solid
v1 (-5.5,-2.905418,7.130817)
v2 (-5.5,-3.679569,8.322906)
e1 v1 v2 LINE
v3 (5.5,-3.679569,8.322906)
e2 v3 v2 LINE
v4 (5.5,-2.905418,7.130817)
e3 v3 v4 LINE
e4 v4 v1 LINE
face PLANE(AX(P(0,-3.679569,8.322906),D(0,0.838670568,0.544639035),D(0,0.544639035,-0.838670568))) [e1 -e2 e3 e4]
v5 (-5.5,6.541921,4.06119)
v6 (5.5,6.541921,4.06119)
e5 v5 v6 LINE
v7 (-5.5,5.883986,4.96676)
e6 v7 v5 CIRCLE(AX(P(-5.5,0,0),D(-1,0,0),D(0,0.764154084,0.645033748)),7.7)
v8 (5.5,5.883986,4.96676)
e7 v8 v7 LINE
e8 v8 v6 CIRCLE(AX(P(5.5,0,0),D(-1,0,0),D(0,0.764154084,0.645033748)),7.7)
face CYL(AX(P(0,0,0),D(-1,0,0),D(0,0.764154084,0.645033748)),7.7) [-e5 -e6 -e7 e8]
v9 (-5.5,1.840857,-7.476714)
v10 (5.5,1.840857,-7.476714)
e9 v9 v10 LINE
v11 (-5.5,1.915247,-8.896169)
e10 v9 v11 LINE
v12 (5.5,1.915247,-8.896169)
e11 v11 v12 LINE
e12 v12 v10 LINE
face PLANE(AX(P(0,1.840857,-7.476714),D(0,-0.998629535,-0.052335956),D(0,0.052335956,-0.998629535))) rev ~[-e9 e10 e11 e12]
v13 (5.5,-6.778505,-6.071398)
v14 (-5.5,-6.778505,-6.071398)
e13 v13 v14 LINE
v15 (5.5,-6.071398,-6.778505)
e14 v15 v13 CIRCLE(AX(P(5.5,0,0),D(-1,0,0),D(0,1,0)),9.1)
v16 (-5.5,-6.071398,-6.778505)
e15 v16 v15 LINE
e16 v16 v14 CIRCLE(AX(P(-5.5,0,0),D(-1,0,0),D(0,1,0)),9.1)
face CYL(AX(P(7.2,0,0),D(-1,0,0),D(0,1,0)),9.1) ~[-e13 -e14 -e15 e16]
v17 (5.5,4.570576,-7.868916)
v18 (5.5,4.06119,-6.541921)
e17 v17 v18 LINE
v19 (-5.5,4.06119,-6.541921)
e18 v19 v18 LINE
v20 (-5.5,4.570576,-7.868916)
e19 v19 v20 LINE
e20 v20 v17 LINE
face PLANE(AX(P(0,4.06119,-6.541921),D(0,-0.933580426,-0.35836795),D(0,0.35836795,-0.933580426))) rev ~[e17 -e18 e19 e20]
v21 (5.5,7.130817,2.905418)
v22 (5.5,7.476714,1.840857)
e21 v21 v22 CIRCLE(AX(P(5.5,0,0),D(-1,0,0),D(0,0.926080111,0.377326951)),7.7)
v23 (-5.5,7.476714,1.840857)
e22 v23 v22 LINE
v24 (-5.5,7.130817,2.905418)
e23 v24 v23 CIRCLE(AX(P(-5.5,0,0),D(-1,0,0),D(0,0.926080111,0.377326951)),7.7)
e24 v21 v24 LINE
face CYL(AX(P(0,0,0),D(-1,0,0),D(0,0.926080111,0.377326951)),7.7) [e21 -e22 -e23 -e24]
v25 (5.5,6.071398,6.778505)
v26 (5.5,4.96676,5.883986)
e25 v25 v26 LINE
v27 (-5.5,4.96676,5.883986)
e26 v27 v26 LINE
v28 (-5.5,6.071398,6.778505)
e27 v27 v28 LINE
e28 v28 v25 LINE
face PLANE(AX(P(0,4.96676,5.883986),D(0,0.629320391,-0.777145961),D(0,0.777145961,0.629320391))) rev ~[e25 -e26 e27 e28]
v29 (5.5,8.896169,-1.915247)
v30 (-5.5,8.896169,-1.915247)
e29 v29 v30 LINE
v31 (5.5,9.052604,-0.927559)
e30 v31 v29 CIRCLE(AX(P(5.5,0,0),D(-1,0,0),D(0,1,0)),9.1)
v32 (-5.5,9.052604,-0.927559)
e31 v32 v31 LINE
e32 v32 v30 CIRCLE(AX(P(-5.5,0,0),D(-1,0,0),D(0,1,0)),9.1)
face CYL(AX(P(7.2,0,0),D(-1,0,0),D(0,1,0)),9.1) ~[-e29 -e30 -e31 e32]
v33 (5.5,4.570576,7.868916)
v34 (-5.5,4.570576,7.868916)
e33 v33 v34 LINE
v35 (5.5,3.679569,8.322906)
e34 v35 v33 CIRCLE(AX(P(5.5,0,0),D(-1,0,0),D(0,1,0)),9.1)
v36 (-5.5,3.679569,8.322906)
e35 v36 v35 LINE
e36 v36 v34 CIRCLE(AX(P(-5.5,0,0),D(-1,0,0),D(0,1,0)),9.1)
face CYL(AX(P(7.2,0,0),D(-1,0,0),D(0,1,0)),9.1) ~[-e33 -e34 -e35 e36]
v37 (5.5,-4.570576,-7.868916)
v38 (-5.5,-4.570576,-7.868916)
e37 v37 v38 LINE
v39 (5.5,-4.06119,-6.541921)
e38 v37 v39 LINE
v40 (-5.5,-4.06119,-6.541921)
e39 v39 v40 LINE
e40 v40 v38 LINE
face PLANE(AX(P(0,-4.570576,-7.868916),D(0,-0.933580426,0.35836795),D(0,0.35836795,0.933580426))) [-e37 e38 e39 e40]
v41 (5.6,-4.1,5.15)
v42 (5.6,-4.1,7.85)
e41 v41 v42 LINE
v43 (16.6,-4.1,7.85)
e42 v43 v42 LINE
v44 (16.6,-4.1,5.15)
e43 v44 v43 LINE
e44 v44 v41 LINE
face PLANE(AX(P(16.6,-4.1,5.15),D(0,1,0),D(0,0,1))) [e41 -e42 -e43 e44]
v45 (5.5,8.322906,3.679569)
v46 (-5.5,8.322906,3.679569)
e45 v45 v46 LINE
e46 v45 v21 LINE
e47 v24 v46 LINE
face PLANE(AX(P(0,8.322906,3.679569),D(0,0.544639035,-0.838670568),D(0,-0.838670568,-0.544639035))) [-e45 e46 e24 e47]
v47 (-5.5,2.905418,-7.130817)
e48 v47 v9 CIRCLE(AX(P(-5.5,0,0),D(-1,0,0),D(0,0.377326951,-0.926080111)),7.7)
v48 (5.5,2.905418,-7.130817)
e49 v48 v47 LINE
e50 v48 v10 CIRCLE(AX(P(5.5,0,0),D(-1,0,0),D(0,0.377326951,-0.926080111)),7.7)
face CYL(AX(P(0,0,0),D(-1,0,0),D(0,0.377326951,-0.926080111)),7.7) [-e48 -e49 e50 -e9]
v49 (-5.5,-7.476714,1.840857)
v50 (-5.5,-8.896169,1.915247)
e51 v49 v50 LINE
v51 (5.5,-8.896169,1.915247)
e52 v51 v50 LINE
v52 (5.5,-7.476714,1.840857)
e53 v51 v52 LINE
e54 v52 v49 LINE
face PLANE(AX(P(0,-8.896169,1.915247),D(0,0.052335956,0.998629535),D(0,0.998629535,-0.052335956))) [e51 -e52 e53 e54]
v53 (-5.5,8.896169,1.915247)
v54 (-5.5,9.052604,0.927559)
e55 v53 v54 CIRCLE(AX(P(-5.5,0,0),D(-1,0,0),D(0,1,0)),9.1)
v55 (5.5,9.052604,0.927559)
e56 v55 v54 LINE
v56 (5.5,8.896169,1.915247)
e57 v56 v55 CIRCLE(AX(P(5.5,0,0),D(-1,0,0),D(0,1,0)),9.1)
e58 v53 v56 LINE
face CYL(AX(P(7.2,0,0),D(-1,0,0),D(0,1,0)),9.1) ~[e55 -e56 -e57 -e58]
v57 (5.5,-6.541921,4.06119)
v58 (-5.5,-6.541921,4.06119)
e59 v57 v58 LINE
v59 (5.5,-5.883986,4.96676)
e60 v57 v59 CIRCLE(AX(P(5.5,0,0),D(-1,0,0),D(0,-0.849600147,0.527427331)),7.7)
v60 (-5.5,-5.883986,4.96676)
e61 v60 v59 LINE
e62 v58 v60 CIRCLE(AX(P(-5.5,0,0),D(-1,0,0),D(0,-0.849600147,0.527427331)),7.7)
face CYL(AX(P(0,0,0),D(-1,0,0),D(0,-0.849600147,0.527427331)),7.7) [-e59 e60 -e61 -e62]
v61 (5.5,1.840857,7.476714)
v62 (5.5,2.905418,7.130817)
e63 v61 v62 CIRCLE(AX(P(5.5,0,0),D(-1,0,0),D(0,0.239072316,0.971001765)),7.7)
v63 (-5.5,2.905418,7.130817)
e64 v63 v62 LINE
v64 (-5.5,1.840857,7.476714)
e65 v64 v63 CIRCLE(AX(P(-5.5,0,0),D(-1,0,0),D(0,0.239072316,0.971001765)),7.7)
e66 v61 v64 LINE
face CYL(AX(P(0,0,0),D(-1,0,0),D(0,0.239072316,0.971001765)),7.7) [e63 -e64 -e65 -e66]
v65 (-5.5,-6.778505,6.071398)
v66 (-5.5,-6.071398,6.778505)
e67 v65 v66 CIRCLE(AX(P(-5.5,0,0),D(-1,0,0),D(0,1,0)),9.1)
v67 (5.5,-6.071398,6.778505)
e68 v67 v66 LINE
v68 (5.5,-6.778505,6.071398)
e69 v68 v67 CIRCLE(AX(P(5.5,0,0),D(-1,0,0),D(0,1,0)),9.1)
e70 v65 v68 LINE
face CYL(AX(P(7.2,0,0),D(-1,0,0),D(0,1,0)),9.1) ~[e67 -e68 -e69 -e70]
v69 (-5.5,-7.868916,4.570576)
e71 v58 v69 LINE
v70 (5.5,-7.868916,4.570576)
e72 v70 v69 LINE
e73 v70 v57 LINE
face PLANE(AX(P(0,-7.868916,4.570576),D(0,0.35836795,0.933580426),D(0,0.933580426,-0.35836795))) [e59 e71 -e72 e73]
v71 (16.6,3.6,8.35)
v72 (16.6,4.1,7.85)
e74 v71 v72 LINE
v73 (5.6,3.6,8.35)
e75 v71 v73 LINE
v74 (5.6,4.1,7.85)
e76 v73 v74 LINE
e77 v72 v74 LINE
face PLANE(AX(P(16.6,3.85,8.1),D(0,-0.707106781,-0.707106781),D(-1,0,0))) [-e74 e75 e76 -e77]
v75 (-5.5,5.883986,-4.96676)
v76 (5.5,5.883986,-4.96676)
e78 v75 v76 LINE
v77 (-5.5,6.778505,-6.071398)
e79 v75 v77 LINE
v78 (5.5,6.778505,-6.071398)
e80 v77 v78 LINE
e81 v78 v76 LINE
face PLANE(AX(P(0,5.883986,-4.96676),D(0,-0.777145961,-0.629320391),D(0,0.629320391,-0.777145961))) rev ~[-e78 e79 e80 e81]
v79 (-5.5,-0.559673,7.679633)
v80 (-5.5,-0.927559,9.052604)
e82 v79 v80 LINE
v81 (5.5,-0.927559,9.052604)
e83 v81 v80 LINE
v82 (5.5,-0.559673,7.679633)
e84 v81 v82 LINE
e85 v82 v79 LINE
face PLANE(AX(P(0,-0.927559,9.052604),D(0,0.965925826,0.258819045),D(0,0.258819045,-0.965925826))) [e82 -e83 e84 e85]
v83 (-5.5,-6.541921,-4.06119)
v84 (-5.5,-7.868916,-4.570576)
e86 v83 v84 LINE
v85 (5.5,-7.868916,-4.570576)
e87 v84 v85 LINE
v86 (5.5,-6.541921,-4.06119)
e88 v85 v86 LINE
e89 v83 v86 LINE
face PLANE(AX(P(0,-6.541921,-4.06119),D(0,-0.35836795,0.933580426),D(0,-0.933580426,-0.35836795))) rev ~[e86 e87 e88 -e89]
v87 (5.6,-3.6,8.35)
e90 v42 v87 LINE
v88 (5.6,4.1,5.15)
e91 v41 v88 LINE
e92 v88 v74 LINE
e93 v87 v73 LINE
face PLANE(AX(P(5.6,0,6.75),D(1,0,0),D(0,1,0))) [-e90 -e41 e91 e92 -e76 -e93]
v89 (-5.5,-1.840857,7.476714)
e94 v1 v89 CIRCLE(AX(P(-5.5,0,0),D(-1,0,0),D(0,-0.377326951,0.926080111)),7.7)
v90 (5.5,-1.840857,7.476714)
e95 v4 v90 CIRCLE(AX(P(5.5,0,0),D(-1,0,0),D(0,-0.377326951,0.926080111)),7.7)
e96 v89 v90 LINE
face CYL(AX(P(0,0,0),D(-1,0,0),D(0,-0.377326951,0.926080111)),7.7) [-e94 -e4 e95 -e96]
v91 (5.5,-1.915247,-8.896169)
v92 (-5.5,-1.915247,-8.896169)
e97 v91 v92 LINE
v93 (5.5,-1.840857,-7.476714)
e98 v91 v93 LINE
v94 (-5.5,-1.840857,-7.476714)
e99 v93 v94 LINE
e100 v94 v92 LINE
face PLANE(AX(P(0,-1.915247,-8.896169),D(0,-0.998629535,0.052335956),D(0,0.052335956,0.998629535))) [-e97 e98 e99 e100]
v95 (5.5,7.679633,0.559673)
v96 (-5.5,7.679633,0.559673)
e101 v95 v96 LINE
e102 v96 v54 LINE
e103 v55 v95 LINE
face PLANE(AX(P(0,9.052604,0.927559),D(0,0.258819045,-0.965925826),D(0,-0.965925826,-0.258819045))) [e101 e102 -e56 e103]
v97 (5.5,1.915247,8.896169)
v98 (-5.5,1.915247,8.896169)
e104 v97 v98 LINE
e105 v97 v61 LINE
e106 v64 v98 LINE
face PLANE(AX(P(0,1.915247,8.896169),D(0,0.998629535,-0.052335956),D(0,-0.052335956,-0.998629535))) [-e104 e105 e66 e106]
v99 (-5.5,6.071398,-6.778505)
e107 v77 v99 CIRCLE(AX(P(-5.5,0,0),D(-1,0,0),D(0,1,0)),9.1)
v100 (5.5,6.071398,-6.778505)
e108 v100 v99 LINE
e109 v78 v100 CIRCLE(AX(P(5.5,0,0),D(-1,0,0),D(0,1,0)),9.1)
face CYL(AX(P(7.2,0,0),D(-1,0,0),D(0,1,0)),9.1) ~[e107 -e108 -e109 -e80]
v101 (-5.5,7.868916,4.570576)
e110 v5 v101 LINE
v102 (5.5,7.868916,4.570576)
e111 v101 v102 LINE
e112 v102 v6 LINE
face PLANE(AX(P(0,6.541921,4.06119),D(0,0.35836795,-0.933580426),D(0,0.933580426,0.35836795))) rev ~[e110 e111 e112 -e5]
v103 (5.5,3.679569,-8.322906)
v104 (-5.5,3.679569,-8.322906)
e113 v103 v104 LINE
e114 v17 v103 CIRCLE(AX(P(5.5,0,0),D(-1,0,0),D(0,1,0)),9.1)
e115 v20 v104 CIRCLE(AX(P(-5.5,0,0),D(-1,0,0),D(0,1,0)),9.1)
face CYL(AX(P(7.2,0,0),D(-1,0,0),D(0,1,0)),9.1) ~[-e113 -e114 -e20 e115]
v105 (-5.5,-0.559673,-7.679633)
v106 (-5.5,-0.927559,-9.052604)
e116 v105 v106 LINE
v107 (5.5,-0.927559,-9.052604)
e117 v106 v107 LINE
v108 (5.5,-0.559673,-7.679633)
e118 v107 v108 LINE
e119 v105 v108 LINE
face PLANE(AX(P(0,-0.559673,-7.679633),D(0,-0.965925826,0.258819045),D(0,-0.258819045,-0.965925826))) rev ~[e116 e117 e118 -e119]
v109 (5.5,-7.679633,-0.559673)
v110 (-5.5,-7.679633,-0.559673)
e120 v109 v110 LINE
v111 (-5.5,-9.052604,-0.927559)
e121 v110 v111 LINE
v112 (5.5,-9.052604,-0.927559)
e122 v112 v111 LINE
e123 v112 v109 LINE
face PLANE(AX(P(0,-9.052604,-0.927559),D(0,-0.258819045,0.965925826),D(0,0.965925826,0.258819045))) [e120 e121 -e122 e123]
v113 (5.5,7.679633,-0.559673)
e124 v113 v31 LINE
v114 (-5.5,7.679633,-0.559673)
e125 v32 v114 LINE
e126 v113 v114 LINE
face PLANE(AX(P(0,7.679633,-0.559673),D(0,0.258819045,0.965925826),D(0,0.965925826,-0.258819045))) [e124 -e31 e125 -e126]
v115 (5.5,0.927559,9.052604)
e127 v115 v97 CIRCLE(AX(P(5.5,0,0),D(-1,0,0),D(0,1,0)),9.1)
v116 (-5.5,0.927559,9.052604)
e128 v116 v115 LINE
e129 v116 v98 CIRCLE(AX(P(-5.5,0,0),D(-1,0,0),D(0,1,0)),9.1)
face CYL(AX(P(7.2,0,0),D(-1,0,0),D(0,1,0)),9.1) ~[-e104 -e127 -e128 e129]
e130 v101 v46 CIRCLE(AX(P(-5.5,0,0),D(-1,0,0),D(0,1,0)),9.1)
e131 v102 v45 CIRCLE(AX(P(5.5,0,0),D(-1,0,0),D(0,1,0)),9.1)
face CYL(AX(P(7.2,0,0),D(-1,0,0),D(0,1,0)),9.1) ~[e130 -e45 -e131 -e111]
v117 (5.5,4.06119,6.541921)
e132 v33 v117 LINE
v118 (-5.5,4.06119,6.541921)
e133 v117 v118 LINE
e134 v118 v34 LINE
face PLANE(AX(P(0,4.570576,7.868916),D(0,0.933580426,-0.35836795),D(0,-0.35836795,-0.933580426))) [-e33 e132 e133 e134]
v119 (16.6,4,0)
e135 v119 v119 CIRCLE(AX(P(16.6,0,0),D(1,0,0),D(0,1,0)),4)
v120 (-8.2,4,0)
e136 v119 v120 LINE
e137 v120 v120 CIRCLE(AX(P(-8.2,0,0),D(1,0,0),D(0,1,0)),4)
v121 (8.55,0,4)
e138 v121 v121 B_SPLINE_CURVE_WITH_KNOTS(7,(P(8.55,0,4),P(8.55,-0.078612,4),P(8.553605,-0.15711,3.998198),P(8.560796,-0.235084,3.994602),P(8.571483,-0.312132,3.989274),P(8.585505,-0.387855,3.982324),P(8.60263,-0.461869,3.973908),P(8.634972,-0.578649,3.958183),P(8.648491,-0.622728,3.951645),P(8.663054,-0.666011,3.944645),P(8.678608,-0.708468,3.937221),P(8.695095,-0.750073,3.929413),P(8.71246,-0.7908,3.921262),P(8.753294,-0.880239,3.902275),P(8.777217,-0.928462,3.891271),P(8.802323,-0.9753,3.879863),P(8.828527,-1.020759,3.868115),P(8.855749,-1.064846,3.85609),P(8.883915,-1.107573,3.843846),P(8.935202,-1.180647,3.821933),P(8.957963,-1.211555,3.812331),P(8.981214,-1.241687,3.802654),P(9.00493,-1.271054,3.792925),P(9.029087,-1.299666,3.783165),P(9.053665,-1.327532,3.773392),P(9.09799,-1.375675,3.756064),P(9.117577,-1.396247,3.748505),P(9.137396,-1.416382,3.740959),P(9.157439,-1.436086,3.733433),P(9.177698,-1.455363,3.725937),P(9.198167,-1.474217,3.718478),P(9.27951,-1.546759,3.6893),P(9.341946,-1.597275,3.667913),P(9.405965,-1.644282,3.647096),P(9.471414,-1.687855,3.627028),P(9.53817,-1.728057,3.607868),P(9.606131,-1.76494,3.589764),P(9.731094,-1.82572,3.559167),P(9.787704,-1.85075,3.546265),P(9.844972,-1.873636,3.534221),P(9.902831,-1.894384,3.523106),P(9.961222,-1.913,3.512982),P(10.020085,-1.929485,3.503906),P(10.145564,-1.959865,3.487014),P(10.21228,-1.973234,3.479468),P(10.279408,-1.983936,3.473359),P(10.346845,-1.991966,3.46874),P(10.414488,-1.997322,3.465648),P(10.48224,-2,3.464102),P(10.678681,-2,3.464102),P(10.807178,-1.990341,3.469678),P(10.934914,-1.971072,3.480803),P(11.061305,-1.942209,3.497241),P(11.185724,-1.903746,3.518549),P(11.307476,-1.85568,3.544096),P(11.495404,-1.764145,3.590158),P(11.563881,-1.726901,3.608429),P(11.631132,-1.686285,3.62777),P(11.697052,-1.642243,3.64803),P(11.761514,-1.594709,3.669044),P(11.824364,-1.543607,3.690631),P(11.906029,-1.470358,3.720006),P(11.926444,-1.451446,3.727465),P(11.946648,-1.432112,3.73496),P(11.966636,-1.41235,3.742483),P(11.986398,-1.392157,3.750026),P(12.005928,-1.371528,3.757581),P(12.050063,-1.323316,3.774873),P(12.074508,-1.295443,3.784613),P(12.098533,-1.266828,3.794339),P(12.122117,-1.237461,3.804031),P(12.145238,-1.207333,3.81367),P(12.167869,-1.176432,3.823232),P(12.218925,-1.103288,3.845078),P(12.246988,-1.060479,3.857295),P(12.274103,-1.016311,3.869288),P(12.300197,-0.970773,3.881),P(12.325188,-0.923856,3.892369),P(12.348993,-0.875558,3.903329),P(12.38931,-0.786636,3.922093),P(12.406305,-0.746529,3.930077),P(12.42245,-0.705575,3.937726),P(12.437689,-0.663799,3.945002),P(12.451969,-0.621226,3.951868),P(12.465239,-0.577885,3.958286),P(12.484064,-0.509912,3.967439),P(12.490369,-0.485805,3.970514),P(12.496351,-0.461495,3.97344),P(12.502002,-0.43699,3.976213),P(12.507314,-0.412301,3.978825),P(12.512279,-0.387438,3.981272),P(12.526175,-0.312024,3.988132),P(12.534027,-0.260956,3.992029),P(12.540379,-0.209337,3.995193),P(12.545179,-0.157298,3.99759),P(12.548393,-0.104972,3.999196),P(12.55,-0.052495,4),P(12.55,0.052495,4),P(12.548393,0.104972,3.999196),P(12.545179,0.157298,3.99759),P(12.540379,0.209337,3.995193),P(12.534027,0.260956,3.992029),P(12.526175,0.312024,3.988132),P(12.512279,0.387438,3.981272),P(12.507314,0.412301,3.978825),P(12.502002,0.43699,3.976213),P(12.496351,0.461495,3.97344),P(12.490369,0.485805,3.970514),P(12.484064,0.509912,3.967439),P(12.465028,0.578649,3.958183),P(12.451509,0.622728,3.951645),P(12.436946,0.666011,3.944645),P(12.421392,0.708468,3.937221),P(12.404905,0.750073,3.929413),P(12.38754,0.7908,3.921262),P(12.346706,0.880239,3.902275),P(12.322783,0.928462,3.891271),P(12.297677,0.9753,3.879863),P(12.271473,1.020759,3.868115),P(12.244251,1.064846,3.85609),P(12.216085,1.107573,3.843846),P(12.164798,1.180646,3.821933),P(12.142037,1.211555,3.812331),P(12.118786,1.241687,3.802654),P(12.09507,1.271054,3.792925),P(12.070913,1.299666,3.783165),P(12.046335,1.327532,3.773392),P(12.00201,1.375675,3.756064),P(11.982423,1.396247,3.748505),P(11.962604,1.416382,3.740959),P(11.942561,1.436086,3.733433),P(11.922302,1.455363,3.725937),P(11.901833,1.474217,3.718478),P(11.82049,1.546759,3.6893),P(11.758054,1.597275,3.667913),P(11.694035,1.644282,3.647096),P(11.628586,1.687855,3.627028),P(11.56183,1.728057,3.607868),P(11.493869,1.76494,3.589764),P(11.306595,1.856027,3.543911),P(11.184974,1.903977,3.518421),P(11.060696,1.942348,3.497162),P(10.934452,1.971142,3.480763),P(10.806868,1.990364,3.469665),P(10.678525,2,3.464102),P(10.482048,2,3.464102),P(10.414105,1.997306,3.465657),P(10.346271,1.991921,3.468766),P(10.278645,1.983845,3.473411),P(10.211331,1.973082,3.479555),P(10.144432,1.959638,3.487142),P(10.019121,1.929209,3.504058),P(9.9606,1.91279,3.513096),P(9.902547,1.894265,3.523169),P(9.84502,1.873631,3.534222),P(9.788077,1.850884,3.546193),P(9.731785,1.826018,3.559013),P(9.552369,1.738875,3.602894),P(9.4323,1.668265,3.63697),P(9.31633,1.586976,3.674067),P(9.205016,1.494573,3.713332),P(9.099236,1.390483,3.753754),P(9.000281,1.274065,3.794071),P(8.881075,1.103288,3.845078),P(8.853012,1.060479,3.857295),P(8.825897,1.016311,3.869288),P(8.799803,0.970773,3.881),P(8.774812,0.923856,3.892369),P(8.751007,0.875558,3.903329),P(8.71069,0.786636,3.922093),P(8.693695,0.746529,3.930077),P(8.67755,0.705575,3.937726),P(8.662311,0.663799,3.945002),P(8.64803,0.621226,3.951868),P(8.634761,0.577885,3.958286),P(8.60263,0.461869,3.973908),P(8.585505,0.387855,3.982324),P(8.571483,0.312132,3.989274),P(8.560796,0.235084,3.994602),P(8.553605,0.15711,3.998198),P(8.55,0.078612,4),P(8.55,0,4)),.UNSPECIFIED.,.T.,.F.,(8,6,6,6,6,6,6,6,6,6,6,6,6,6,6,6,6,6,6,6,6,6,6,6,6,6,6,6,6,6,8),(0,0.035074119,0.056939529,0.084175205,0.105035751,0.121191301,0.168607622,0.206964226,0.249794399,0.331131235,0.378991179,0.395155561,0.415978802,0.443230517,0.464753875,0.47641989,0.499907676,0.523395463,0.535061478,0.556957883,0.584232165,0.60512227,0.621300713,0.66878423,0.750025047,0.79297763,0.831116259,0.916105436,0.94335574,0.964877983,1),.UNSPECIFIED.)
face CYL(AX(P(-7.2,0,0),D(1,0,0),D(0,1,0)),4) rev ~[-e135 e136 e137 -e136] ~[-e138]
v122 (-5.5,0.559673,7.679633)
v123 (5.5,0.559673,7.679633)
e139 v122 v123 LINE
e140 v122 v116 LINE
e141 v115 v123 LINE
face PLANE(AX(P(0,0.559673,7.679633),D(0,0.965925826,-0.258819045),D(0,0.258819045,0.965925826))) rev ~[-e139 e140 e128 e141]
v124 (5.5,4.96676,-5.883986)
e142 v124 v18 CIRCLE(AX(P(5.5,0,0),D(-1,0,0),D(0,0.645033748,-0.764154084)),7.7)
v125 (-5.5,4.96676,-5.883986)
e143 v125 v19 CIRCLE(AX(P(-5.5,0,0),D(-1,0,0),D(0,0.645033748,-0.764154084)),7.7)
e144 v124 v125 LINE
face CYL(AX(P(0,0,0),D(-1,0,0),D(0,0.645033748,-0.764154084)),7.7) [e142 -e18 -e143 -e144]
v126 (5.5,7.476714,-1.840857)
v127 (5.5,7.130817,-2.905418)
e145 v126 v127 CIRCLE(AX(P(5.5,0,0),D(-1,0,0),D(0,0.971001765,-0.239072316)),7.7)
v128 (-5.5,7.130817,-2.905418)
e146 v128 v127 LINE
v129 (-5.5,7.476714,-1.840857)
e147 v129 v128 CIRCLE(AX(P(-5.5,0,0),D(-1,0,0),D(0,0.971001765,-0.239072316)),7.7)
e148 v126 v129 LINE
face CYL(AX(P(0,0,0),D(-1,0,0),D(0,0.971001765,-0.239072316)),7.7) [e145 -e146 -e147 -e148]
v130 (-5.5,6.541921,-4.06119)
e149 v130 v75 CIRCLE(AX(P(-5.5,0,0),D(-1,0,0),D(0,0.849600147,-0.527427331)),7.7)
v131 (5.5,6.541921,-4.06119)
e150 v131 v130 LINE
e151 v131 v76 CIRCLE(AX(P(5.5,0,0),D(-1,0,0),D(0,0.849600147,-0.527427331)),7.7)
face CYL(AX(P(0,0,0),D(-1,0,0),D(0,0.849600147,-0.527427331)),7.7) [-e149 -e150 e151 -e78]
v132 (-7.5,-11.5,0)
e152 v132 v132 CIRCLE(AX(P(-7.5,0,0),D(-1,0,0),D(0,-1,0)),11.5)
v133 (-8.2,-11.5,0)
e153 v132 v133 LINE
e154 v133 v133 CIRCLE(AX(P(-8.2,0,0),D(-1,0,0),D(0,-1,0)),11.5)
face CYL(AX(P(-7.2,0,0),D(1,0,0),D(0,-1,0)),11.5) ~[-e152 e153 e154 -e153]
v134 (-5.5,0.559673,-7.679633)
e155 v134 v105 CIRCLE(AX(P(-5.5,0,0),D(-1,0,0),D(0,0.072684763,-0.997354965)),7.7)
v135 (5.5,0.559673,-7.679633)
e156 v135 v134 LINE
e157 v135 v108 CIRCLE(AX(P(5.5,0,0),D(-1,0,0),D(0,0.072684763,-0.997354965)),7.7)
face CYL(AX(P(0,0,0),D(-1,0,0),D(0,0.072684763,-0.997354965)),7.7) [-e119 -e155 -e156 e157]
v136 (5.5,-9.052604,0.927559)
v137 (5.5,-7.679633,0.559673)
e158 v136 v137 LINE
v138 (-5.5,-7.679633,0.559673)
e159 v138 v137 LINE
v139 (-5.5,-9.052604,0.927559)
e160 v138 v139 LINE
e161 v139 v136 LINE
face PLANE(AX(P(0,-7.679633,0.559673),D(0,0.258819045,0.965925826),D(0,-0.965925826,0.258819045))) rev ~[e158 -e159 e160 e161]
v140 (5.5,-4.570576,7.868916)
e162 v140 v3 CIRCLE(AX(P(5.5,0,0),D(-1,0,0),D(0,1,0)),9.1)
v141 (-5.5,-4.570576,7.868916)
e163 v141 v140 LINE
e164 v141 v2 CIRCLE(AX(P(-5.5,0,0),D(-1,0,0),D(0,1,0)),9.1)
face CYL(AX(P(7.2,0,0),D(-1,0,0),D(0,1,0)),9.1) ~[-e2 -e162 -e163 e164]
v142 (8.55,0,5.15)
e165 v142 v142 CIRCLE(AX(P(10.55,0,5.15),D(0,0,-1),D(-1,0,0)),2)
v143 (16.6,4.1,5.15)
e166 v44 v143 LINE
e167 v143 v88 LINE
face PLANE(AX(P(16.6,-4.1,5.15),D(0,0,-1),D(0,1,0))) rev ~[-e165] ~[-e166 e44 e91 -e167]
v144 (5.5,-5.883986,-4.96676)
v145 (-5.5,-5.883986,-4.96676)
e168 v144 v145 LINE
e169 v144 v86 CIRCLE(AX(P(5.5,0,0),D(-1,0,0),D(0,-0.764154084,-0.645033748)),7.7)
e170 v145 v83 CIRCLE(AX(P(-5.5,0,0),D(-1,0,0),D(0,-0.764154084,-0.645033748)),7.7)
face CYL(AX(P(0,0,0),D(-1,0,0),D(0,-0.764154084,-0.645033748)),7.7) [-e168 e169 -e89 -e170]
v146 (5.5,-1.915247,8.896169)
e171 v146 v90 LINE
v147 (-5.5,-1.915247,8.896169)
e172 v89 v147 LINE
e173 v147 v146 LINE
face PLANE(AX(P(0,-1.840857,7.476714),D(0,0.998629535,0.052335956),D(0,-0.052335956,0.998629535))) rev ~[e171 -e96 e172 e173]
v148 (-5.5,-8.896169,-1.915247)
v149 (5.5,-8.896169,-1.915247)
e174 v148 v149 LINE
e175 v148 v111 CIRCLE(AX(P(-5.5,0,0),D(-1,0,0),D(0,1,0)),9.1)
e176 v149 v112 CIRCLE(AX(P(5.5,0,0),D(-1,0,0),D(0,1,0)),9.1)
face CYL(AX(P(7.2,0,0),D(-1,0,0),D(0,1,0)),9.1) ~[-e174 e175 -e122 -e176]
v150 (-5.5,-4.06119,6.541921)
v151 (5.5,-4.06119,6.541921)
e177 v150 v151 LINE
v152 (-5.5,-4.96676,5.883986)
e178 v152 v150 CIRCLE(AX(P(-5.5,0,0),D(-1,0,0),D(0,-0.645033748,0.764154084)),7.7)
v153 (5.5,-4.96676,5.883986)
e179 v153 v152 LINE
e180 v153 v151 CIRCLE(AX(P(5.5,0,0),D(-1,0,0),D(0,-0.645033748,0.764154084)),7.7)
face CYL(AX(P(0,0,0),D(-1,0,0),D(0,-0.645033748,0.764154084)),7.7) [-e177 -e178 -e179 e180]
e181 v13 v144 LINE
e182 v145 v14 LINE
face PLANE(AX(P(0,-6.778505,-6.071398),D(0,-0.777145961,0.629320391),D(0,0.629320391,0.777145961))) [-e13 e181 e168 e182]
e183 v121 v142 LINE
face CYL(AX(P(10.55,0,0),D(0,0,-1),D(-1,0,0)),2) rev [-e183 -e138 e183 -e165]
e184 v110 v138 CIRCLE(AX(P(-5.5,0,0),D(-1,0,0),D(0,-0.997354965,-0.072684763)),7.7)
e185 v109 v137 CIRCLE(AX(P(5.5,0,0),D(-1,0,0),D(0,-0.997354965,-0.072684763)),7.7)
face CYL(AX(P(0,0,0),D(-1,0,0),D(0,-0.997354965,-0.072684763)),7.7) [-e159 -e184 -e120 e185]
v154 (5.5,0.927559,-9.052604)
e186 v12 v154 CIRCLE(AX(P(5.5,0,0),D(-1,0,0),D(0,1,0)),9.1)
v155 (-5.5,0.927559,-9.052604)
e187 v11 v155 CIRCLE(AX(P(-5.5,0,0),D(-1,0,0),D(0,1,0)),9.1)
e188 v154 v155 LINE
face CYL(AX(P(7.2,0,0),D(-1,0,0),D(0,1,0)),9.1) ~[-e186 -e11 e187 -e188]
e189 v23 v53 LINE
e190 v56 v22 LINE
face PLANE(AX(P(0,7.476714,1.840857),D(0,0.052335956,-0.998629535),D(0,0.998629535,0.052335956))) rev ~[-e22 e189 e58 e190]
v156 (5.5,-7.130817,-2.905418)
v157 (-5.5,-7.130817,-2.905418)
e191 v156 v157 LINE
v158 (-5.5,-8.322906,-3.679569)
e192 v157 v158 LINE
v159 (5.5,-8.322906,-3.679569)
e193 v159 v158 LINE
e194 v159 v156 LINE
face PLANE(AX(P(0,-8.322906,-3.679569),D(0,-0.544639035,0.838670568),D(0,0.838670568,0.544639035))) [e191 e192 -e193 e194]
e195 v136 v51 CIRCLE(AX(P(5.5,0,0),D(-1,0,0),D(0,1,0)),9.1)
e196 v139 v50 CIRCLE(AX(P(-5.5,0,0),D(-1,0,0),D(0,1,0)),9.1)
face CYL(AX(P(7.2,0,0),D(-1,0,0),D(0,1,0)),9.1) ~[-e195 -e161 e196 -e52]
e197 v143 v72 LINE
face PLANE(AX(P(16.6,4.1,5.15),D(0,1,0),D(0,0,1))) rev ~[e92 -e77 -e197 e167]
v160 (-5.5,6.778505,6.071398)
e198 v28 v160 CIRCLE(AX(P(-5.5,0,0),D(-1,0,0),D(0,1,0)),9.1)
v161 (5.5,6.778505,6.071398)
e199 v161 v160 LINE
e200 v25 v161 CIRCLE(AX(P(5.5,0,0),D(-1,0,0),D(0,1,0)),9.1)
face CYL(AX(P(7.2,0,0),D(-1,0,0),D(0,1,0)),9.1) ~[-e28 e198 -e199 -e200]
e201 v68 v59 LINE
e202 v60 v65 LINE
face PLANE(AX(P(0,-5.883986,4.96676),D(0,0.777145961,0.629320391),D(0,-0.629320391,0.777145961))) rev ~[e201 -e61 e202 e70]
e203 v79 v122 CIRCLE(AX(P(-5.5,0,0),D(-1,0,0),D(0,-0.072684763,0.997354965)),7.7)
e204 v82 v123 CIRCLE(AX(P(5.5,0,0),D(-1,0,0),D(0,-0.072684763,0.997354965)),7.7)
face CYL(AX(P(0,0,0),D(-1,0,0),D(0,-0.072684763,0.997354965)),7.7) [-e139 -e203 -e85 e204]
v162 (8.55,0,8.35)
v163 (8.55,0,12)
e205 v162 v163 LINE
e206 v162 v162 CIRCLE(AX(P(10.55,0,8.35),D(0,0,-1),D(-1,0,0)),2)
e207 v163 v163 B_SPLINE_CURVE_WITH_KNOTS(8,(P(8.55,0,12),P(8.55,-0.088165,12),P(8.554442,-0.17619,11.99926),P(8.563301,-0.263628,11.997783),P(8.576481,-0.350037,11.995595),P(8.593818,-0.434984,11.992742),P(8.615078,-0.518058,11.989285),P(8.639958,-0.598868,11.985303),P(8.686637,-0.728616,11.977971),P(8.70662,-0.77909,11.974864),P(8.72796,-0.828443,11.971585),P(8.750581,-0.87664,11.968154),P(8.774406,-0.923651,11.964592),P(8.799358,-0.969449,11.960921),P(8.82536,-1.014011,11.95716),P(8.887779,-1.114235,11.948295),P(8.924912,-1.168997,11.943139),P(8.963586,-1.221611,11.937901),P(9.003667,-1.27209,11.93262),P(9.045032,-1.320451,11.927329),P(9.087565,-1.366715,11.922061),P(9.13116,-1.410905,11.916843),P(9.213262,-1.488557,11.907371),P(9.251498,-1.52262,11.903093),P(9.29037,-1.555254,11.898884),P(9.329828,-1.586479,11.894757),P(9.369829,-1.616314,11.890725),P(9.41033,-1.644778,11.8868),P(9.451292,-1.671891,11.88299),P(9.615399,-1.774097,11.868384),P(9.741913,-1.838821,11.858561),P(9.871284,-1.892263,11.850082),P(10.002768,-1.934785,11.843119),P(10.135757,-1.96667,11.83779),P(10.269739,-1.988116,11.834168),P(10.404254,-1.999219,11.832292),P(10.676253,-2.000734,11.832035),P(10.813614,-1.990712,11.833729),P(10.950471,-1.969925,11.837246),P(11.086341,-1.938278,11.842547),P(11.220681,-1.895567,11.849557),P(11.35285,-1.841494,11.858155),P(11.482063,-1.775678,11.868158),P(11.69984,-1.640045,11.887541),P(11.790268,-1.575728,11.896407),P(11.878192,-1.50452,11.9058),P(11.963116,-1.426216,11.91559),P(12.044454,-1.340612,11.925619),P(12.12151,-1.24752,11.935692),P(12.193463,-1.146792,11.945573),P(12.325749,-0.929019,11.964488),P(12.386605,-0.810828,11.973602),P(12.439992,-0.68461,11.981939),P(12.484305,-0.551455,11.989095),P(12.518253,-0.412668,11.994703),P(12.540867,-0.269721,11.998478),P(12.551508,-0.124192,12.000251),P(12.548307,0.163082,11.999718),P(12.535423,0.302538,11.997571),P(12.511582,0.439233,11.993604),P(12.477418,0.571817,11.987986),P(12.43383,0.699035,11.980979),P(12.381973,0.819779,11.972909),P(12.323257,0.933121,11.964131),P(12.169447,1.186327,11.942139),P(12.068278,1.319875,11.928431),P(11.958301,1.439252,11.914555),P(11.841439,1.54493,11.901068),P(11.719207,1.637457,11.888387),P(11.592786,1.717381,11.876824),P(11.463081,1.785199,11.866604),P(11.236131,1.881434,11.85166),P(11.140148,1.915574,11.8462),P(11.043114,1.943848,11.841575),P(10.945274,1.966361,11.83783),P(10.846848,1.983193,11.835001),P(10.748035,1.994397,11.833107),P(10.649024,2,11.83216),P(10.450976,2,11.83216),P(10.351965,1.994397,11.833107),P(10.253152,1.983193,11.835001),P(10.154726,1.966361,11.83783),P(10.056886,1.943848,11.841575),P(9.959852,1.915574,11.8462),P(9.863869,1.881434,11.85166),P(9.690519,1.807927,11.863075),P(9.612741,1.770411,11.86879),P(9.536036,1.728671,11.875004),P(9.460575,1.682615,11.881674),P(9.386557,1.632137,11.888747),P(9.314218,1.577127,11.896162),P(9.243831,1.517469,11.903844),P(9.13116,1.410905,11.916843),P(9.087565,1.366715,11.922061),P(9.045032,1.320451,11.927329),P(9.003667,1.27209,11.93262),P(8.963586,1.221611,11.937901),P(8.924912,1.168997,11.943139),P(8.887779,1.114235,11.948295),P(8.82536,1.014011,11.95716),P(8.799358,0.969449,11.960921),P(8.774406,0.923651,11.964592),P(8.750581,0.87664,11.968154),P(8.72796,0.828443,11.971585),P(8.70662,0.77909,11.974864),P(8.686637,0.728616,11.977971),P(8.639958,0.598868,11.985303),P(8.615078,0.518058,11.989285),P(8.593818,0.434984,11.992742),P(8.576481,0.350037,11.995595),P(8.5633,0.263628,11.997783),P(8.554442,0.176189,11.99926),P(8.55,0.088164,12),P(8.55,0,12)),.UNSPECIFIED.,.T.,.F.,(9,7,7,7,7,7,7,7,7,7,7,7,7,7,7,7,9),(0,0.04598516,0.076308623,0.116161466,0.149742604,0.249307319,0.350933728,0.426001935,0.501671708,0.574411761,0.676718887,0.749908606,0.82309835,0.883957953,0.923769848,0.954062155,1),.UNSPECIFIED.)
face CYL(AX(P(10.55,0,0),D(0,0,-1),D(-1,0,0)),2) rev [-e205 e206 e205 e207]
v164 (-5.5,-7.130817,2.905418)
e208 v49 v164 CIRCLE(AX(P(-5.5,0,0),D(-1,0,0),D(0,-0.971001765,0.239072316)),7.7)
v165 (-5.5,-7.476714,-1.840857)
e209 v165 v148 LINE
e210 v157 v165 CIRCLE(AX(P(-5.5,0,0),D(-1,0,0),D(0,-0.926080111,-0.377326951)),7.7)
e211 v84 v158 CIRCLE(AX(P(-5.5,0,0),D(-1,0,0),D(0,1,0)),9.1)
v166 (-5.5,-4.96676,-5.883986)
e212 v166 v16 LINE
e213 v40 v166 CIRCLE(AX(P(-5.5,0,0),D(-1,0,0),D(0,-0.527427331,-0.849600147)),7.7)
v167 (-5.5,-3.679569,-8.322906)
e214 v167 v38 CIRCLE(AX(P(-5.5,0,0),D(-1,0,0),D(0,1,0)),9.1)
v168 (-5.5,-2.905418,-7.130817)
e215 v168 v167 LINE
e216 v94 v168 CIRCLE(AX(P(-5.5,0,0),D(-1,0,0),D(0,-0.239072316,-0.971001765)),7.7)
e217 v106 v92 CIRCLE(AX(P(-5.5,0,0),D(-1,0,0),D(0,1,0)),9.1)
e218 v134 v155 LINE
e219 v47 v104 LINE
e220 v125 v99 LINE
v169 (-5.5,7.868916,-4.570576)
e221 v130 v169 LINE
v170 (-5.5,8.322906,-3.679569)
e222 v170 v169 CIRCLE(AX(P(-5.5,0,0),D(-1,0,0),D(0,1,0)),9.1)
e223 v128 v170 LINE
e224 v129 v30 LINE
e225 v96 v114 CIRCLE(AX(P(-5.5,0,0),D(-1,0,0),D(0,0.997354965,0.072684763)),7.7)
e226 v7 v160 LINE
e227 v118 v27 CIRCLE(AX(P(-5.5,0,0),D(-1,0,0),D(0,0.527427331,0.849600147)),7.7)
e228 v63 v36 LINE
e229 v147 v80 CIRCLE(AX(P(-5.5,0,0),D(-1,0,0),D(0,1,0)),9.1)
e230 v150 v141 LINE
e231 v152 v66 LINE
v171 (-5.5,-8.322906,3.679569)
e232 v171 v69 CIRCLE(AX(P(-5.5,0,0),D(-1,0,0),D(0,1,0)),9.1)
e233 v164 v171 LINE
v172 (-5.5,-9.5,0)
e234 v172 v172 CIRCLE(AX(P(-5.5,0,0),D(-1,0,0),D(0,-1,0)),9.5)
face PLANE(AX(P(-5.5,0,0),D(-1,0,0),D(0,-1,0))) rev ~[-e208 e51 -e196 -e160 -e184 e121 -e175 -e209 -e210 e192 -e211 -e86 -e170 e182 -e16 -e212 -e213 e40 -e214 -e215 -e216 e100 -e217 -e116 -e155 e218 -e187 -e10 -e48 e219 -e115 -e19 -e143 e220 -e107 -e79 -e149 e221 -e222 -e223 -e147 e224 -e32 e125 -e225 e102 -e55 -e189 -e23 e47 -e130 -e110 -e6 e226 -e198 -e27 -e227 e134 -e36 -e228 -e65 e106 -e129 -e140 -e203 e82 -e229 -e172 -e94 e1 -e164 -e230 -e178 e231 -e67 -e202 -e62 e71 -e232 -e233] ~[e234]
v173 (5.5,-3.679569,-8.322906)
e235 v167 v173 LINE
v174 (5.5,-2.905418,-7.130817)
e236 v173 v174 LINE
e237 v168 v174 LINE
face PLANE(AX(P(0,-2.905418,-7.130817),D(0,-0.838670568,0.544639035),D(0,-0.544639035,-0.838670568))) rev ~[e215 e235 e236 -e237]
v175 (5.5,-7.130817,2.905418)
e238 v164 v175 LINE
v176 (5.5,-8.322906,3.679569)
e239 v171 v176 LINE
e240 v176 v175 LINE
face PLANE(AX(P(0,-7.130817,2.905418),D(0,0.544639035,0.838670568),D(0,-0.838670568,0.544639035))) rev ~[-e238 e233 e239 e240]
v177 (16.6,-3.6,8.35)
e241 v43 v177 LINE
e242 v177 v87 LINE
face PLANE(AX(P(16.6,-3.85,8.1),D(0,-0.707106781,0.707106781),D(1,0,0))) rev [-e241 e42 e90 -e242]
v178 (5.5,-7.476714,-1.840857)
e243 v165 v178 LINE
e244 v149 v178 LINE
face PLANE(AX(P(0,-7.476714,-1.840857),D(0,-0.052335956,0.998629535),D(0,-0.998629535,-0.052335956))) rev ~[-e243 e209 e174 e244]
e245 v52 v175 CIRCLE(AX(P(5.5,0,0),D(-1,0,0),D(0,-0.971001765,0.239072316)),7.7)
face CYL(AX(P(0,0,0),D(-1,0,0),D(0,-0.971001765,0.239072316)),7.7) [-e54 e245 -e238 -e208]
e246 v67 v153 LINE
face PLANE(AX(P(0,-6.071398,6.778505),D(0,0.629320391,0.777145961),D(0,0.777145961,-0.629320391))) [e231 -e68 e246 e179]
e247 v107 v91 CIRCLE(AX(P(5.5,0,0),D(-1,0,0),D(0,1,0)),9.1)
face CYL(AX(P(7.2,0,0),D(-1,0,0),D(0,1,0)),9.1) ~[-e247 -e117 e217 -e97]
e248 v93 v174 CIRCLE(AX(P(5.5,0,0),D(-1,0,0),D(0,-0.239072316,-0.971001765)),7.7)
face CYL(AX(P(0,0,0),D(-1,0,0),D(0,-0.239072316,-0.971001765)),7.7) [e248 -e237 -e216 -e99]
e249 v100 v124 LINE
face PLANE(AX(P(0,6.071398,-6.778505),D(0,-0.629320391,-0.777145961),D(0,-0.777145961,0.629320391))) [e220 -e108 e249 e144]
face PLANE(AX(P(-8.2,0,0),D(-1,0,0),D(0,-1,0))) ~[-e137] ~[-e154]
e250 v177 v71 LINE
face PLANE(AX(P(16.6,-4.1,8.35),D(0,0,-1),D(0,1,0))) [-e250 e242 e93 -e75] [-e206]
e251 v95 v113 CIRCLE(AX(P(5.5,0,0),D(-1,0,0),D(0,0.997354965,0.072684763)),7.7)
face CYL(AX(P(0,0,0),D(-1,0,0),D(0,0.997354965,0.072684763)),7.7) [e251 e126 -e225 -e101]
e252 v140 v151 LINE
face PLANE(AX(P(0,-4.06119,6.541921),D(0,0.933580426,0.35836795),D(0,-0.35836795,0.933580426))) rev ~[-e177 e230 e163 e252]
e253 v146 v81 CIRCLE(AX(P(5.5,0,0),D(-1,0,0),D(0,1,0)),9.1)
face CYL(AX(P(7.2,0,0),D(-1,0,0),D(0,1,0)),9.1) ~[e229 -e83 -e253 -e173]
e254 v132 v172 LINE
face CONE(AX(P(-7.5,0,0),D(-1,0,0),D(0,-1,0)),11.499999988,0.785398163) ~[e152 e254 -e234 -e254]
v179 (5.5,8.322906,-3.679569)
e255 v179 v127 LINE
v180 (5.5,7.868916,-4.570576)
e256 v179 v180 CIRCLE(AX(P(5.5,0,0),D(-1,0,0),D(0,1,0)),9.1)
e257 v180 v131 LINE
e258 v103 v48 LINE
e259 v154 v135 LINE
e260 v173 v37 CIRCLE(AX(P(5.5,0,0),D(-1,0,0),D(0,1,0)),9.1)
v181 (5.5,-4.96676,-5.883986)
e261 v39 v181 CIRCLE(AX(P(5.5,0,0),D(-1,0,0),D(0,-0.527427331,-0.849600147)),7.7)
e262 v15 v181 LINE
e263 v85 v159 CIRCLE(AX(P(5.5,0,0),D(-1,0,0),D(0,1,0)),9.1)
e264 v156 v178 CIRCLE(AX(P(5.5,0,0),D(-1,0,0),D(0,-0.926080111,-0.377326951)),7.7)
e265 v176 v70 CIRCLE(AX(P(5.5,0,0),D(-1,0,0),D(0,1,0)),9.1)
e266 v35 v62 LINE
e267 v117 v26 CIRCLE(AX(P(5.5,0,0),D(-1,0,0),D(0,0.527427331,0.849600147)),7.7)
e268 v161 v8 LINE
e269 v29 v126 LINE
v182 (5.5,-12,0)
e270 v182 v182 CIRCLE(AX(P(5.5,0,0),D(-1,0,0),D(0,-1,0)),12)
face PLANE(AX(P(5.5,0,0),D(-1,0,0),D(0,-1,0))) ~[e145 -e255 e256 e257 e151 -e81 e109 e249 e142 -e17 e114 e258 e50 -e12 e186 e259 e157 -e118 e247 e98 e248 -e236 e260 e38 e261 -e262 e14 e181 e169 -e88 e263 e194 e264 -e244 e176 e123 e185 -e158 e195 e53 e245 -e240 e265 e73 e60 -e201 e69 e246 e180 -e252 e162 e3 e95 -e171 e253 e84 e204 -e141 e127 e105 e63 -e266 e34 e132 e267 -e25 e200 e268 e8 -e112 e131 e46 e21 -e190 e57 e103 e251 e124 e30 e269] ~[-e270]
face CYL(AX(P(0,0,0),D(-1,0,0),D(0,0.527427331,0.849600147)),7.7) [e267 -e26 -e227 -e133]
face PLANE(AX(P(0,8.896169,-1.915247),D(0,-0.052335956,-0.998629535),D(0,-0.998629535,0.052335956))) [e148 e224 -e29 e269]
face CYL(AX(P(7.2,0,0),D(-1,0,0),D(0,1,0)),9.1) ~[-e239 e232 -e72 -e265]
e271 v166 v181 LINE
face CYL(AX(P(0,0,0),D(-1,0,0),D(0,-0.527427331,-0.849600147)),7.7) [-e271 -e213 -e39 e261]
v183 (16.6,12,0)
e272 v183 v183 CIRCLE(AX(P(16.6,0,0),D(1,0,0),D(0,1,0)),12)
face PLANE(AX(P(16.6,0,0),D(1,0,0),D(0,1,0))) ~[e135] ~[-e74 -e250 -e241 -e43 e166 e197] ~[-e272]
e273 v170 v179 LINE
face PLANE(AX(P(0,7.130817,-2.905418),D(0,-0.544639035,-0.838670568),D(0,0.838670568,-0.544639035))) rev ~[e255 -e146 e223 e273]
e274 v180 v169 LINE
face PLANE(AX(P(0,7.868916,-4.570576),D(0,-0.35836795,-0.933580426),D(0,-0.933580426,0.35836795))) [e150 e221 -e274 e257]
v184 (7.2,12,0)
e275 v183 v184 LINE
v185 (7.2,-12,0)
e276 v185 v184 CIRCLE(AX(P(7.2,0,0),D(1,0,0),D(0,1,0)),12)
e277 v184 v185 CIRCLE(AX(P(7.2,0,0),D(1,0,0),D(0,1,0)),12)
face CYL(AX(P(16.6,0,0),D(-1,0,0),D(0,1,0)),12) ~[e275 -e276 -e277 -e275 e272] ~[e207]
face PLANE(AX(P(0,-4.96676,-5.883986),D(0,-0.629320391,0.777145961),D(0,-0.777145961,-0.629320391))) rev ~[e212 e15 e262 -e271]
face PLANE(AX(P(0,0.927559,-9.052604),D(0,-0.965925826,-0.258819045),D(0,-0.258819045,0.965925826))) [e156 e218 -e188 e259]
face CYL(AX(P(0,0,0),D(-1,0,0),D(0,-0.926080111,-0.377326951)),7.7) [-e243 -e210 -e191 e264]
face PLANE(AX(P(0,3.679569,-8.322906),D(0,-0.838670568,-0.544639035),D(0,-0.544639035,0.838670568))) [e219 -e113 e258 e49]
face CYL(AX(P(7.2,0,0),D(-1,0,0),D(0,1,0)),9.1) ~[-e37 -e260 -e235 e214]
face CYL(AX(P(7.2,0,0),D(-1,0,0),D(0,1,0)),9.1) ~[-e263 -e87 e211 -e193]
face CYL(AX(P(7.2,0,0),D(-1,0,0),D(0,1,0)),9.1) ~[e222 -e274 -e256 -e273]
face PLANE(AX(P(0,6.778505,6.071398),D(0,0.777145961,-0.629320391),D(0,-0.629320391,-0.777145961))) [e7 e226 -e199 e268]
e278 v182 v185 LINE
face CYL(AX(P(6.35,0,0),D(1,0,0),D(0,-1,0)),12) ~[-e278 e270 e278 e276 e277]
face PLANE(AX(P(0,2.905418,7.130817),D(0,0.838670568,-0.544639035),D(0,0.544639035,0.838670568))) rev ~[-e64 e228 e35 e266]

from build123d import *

# Parameters (mm, degrees)
F3_DEPTH      = 182.88
F3_DEPTH_BACK = 182.88
F4_W          = 43.18
F4_H          = 292.1
F4_H_2        = 12.7
F6_DEPTH      = 365.761
F9_DEPTH      = 304.801
F7_W          = 208.28
F7_H          = 81.28
F10_DEPTH     = 279.4
F11_SIZE      = 12.7
F12_SCALE     = 0.0393700787
F13_DEPTH     = 1
F14_SIZE      = 2


with BuildPart() as f1:
    # F0 (on Top) → F1 (revolve)
    with BuildSketch(Plane.XY):
        Polygon((182.88, 231.14), (-182.88, 231.14), (-182.88, 101.6), (421.64, 101.6), (421.64, 304.8), (182.88, 304.8), align=None)
    revolve(axis=Axis((286.554813385, 0, 0), (1, 0, 0)))

    # F2 (on Right) → F3 (cut, two sides)
    with BuildSketch(Plane.YZ) as f3_sk:
        with BuildLine():
            Line((-46.7577635634, 189.9085252076), (-48.6472827621, 225.9626993109))
            ThreePointArc((-48.6472827621, 225.9626993109), (-71.4261880798, 219.8272031765), (-93.4610637385, 211.401819209))
            Line((-93.4610637385, 211.401819209), (-73.7976050599, 181.1227481224))
            ThreePointArc((-73.7976050599, 181.1227481224), (-60.4375437599, 186.007633457), (-46.7577635634, 189.9085252076))
        make_face()
        with BuildLine():
            Line((14.2156859414, 195.0626839588), (23.559998911, 229.9361347229))
            ThreePointArc((23.559998911, 229.9361347229), (0, 231.14), (-23.559998911, 229.9361347229))
            Line((-23.559998911, 229.9361347229), (-14.2156859414, 195.0626839588))
            ThreePointArc((-14.2156859414, 195.0626839588), (0, 195.58), (14.2156859414, 195.0626839588))
        make_face()
        with BuildLine():
            ThreePointArc((93.4610637385, 211.401819209), (71.4261880798, 219.8272031765), (48.6472827621, 225.9626993109))
            Line((48.6472827621, 225.9626993109), (46.7577635634, 189.9085252076))
            ThreePointArc((46.7577635634, 189.9085252076), (60.4375437599, 186.007633457), (73.7976050599, 181.1227481224))
            Line((73.7976050599, 181.1227481224), (93.4610637385, 211.401819209))
        make_face()
        with BuildLine():
            ThreePointArc((154.2135084657, 172.1740207078), (135.8606832149, 186.9961880798), (116.0926294528, 199.8704605156))
            Line((116.0926294528, 199.8704605156), (103.1542373903, 166.1647968387))
            ThreePointArc((103.1542373903, 166.1647968387), (114.9590396434, 158.2275437599), (126.1557004169, 149.4532557435))
            Line((126.1557004169, 149.4532557435), (154.2135084657, 172.1740207078))
        make_face()
        with BuildLine():
            ThreePointArc((199.8704605156, 116.0926294528), (186.9961880798, 135.8606832149), (172.1740207078, 154.2135084657))
            Line((172.1740207078, 154.2135084657), (149.4532557435, 126.1557004169))
            ThreePointArc((149.4532557435, 126.1557004169), (158.2275437599, 114.9590396434), (166.1647968387, 103.1542373903))
            Line((166.1647968387, 103.1542373903), (199.8704605156, 116.0926294528))
        make_face()
        with BuildLine():
            ThreePointArc((225.9626993109, 48.6472827621), (219.8272031765, 71.4261880798), (211.401819209, 93.4610637385))
            Line((211.401819209, 93.4610637385), (181.1227481224, 73.7976050599))
            ThreePointArc((181.1227481224, 73.7976050599), (186.007633457, 60.4375437599), (189.9085252076, 46.7577635634))
            Line((189.9085252076, 46.7577635634), (225.9626993109, 48.6472827621))
        make_face()
        with BuildLine():
            ThreePointArc((231.14, 0), (230.8388374818, 11.7953681618), (229.9361347229, 23.559998911))
            Line((229.9361347229, 23.559998911), (195.0626839588, 14.2156859414))
            ThreePointArc((195.0626839588, 14.2156859414), (195.4506282014, 7.1125477621), (195.58, 0))
            ThreePointArc((195.58, 0), (195.4506282014, -7.1125477621), (195.0626839588, -14.2156859414))
            Line((195.0626839588, -14.2156859414), (229.9361347229, -23.559998911))
            ThreePointArc((229.9361347229, -23.559998911), (230.8388374818, -11.7953681618), (231.14, 0))
        make_face()
        with BuildLine():
            ThreePointArc((211.401819209, -93.4610637385), (219.8272031765, -71.4261880798), (225.9626993109, -48.6472827621))
            Line((225.9626993109, -48.6472827621), (189.9085252076, -46.7577635635))
            ThreePointArc((189.9085252076, -46.7577635635), (186.007633457, -60.4375437599), (181.1227481224, -73.7976050599))
            Line((181.1227481224, -73.7976050599), (211.401819209, -93.4610637385))
        make_face()
        with BuildLine():
            ThreePointArc((172.1740207078, -154.2135084657), (186.9961880798, -135.8606832149), (199.8704605156, -116.0926294528))
            Line((199.8704605156, -116.0926294528), (166.1647968387, -103.1542373903))
            ThreePointArc((166.1647968387, -103.1542373903), (158.2275437599, -114.9590396434), (149.4532557435, -126.1557004169))
            Line((149.4532557435, -126.1557004169), (172.1740207078, -154.2135084657))
        make_face()
        with BuildLine():
            ThreePointArc((116.0926294528, -199.8704605156), (135.8606832149, -186.9961880798), (154.2135084657, -172.1740207078))
            Line((154.2135084657, -172.1740207078), (126.1557004169, -149.4532557435))
            ThreePointArc((126.1557004169, -149.4532557435), (114.9590396434, -158.2275437599), (103.1542373903, -166.1647968387))
            Line((103.1542373903, -166.1647968387), (116.0926294528, -199.8704605156))
        make_face()
        with BuildLine():
            ThreePointArc((48.6472827621, -225.9626993109), (71.4261880798, -219.8272031765), (93.4610637385, -211.401819209))
            Line((93.4610637385, -211.401819209), (73.7976050599, -181.1227481224))
            ThreePointArc((73.7976050599, -181.1227481224), (60.4375437599, -186.007633457), (46.7577635634, -189.9085252076))
            Line((46.7577635634, -189.9085252076), (48.6472827621, -225.9626993109))
        make_face()
        with BuildLine():
            ThreePointArc((-23.559998911, -229.9361347229), (0, -231.14), (23.559998911, -229.9361347229))
            Line((23.559998911, -229.9361347229), (14.2156859414, -195.0626839588))
            ThreePointArc((14.2156859414, -195.0626839588), (0, -195.58), (-14.2156859414, -195.0626839588))
            Line((-14.2156859414, -195.0626839588), (-23.559998911, -229.9361347229))
        make_face()
        with BuildLine():
            Line((-73.7976050599, -181.1227481224), (-93.4610637385, -211.401819209))
            ThreePointArc((-93.4610637385, -211.401819209), (-71.4261880798, -219.8272031765), (-48.6472827621, -225.9626993109))
            Line((-48.6472827621, -225.9626993109), (-46.7577635635, -189.9085252076))
            ThreePointArc((-46.7577635635, -189.9085252076), (-60.4375437599, -186.007633457), (-73.7976050599, -181.1227481224))
        make_face()
        with BuildLine():
            Line((-126.1557004169, -149.4532557435), (-154.2135084657, -172.1740207078))
            ThreePointArc((-154.2135084657, -172.1740207078), (-135.8606832149, -186.9961880798), (-116.0926294528, -199.8704605156))
            Line((-116.0926294528, -199.8704605156), (-103.1542373903, -166.1647968387))
            ThreePointArc((-103.1542373903, -166.1647968387), (-114.9590396434, -158.2275437599), (-126.1557004169, -149.4532557435))
        make_face()
        with BuildLine():
            Line((-166.1647968387, -103.1542373903), (-199.8704605156, -116.0926294528))
            ThreePointArc((-199.8704605156, -116.0926294528), (-186.9961880798, -135.8606832149), (-172.1740207078, -154.2135084657))
            Line((-172.1740207078, -154.2135084657), (-149.4532557435, -126.1557004169))
            ThreePointArc((-149.4532557435, -126.1557004169), (-158.2275437599, -114.9590396434), (-166.1647968387, -103.1542373903))
        make_face()
        with BuildLine():
            Line((-189.9085252076, -46.7577635634), (-225.9626993109, -48.6472827621))
            ThreePointArc((-225.9626993109, -48.6472827621), (-219.8272031765, -71.4261880798), (-211.401819209, -93.4610637385))
            Line((-211.401819209, -93.4610637385), (-181.1227481224, -73.7976050599))
            ThreePointArc((-181.1227481224, -73.7976050599), (-186.007633457, -60.4375437599), (-189.9085252076, -46.7577635634))
        make_face()
        with BuildLine():
            Line((-195.0626839588, 14.2156859414), (-229.9361347229, 23.559998911))
            ThreePointArc((-229.9361347229, 23.559998911), (-231.14, 0), (-229.9361347229, -23.559998911))
            Line((-229.9361347229, -23.559998911), (-195.0626839588, -14.2156859414))
            ThreePointArc((-195.0626839588, -14.2156859414), (-195.58, 0), (-195.0626839588, 14.2156859414))
        make_face()
        with BuildLine():
            Line((-181.1227481224, 73.7976050599), (-211.401819209, 93.4610637385))
            ThreePointArc((-211.401819209, 93.4610637385), (-219.8272031765, 71.4261880798), (-225.9626993109, 48.6472827621))
            Line((-225.9626993109, 48.6472827621), (-189.9085252076, 46.7577635634))
            ThreePointArc((-189.9085252076, 46.7577635635), (-186.007633457, 60.4375437599), (-181.1227481224, 73.7976050599))
        make_face()
        with BuildLine():
            Line((-149.4532557435, 126.1557004169), (-172.1740207078, 154.2135084657))
            ThreePointArc((-172.1740207078, 154.2135084657), (-186.9961880798, 135.8606832149), (-199.8704605156, 116.0926294528))
            Line((-199.8704605156, 116.0926294528), (-166.1647968387, 103.1542373903))
            ThreePointArc((-166.1647968387, 103.1542373903), (-158.2275437599, 114.9590396434), (-149.4532557435, 126.1557004169))
        make_face()
        with BuildLine():
            Line((-103.1542373903, 166.1647968387), (-116.0926294528, 199.8704605156))
            ThreePointArc((-116.0926294528, 199.8704605156), (-135.8606832149, 186.9961880798), (-154.2135084657, 172.1740207078))
            Line((-154.2135084657, 172.1740207078), (-126.1557004169, 149.4532557435))
            ThreePointArc((-126.1557004169, 149.4532557435), (-114.9590396434, 158.2275437599), (-103.1542373903, 166.1647968387))
        make_face()
    extrude(amount=-F3_DEPTH, mode=Mode.SUBTRACT)
    extrude(f3_sk.sketch, amount=F3_DEPTH_BACK, mode=Mode.SUBTRACT)

    # F4 (on Top) → F5 (revolve)
    with BuildSketch(Plane.XY):
        Polygon((-139.7, 0), (-182.88, 0), (-182.88, -14.2156859414), (-182.88, -292.1), (-139.7, -292.1), align=None)
        with Locations((161.29, -146.05)):
            Rectangle(F4_W, F4_H)
        with Locations((161.29, -298.45)):
            Rectangle(F4_W, F4_H_2)
    revolve(axis=Axis((-161.29, 0, 0), (-1, 0, 0)))

    # F6 (cut, through all): a face of the model
    f6_faces = [f1.faces().sort_by_distance(p)[0] for p in [
        (182.88, 0, 0),
    ]]
    extrude(f6_faces, amount=-F6_DEPTH, mode=Mode.SUBTRACT)

    # F8 (on Top) → F9 (cut, through all)
    with BuildSketch(Plane.XY):
        with BuildLine():
            Line((217.17, 0), (318.77, 0))
            ThreePointArc((318.77, 0), (267.97, 50.8), (217.17, 0))
        make_face()
        with BuildLine():
            ThreePointArc((217.17, 0), (267.97, -50.8), (318.77, 0))
            Line((318.77, 0), (217.17, 0))
        make_face()
    extrude(amount=F9_DEPTH, mode=Mode.SUBTRACT)

    # F7 (on face) → F10 (cut)
    with BuildSketch(Plane.YZ.offset(421.64)):
        with Locations((0, 171.45)):
            Rectangle(F7_W, F7_H)
    extrude(amount=-F10_DEPTH, mode=Mode.SUBTRACT)

    # F11
    f11_edges = [f1.edges().sort_by_distance(p)[0] for p in [
        (281.94, -104.14, 212.09),
        (281.94, 104.14, 212.09),
    ]]
    chamfer(f11_edges, length=F11_SIZE)


with BuildPart() as f1_1:
    # F12: moved
    add(f1.part.scale(F12_SCALE))

    # F13 (add): a face of the model
    f13_faces = [f1_1.faces().sort_by_distance(p)[0] for p in [
        (-7.2, 11.1747308807, 0),
    ]]
    extrude(f13_faces, amount=F13_DEPTH)

    # F14
    f14_edges = [f1_1.edges().sort_by_distance(p)[0] for p in [
        (-5.5, 11.5, 0),
    ]]
    chamfer(f14_edges, length=F14_SIZE)


solid = f1_1.part
